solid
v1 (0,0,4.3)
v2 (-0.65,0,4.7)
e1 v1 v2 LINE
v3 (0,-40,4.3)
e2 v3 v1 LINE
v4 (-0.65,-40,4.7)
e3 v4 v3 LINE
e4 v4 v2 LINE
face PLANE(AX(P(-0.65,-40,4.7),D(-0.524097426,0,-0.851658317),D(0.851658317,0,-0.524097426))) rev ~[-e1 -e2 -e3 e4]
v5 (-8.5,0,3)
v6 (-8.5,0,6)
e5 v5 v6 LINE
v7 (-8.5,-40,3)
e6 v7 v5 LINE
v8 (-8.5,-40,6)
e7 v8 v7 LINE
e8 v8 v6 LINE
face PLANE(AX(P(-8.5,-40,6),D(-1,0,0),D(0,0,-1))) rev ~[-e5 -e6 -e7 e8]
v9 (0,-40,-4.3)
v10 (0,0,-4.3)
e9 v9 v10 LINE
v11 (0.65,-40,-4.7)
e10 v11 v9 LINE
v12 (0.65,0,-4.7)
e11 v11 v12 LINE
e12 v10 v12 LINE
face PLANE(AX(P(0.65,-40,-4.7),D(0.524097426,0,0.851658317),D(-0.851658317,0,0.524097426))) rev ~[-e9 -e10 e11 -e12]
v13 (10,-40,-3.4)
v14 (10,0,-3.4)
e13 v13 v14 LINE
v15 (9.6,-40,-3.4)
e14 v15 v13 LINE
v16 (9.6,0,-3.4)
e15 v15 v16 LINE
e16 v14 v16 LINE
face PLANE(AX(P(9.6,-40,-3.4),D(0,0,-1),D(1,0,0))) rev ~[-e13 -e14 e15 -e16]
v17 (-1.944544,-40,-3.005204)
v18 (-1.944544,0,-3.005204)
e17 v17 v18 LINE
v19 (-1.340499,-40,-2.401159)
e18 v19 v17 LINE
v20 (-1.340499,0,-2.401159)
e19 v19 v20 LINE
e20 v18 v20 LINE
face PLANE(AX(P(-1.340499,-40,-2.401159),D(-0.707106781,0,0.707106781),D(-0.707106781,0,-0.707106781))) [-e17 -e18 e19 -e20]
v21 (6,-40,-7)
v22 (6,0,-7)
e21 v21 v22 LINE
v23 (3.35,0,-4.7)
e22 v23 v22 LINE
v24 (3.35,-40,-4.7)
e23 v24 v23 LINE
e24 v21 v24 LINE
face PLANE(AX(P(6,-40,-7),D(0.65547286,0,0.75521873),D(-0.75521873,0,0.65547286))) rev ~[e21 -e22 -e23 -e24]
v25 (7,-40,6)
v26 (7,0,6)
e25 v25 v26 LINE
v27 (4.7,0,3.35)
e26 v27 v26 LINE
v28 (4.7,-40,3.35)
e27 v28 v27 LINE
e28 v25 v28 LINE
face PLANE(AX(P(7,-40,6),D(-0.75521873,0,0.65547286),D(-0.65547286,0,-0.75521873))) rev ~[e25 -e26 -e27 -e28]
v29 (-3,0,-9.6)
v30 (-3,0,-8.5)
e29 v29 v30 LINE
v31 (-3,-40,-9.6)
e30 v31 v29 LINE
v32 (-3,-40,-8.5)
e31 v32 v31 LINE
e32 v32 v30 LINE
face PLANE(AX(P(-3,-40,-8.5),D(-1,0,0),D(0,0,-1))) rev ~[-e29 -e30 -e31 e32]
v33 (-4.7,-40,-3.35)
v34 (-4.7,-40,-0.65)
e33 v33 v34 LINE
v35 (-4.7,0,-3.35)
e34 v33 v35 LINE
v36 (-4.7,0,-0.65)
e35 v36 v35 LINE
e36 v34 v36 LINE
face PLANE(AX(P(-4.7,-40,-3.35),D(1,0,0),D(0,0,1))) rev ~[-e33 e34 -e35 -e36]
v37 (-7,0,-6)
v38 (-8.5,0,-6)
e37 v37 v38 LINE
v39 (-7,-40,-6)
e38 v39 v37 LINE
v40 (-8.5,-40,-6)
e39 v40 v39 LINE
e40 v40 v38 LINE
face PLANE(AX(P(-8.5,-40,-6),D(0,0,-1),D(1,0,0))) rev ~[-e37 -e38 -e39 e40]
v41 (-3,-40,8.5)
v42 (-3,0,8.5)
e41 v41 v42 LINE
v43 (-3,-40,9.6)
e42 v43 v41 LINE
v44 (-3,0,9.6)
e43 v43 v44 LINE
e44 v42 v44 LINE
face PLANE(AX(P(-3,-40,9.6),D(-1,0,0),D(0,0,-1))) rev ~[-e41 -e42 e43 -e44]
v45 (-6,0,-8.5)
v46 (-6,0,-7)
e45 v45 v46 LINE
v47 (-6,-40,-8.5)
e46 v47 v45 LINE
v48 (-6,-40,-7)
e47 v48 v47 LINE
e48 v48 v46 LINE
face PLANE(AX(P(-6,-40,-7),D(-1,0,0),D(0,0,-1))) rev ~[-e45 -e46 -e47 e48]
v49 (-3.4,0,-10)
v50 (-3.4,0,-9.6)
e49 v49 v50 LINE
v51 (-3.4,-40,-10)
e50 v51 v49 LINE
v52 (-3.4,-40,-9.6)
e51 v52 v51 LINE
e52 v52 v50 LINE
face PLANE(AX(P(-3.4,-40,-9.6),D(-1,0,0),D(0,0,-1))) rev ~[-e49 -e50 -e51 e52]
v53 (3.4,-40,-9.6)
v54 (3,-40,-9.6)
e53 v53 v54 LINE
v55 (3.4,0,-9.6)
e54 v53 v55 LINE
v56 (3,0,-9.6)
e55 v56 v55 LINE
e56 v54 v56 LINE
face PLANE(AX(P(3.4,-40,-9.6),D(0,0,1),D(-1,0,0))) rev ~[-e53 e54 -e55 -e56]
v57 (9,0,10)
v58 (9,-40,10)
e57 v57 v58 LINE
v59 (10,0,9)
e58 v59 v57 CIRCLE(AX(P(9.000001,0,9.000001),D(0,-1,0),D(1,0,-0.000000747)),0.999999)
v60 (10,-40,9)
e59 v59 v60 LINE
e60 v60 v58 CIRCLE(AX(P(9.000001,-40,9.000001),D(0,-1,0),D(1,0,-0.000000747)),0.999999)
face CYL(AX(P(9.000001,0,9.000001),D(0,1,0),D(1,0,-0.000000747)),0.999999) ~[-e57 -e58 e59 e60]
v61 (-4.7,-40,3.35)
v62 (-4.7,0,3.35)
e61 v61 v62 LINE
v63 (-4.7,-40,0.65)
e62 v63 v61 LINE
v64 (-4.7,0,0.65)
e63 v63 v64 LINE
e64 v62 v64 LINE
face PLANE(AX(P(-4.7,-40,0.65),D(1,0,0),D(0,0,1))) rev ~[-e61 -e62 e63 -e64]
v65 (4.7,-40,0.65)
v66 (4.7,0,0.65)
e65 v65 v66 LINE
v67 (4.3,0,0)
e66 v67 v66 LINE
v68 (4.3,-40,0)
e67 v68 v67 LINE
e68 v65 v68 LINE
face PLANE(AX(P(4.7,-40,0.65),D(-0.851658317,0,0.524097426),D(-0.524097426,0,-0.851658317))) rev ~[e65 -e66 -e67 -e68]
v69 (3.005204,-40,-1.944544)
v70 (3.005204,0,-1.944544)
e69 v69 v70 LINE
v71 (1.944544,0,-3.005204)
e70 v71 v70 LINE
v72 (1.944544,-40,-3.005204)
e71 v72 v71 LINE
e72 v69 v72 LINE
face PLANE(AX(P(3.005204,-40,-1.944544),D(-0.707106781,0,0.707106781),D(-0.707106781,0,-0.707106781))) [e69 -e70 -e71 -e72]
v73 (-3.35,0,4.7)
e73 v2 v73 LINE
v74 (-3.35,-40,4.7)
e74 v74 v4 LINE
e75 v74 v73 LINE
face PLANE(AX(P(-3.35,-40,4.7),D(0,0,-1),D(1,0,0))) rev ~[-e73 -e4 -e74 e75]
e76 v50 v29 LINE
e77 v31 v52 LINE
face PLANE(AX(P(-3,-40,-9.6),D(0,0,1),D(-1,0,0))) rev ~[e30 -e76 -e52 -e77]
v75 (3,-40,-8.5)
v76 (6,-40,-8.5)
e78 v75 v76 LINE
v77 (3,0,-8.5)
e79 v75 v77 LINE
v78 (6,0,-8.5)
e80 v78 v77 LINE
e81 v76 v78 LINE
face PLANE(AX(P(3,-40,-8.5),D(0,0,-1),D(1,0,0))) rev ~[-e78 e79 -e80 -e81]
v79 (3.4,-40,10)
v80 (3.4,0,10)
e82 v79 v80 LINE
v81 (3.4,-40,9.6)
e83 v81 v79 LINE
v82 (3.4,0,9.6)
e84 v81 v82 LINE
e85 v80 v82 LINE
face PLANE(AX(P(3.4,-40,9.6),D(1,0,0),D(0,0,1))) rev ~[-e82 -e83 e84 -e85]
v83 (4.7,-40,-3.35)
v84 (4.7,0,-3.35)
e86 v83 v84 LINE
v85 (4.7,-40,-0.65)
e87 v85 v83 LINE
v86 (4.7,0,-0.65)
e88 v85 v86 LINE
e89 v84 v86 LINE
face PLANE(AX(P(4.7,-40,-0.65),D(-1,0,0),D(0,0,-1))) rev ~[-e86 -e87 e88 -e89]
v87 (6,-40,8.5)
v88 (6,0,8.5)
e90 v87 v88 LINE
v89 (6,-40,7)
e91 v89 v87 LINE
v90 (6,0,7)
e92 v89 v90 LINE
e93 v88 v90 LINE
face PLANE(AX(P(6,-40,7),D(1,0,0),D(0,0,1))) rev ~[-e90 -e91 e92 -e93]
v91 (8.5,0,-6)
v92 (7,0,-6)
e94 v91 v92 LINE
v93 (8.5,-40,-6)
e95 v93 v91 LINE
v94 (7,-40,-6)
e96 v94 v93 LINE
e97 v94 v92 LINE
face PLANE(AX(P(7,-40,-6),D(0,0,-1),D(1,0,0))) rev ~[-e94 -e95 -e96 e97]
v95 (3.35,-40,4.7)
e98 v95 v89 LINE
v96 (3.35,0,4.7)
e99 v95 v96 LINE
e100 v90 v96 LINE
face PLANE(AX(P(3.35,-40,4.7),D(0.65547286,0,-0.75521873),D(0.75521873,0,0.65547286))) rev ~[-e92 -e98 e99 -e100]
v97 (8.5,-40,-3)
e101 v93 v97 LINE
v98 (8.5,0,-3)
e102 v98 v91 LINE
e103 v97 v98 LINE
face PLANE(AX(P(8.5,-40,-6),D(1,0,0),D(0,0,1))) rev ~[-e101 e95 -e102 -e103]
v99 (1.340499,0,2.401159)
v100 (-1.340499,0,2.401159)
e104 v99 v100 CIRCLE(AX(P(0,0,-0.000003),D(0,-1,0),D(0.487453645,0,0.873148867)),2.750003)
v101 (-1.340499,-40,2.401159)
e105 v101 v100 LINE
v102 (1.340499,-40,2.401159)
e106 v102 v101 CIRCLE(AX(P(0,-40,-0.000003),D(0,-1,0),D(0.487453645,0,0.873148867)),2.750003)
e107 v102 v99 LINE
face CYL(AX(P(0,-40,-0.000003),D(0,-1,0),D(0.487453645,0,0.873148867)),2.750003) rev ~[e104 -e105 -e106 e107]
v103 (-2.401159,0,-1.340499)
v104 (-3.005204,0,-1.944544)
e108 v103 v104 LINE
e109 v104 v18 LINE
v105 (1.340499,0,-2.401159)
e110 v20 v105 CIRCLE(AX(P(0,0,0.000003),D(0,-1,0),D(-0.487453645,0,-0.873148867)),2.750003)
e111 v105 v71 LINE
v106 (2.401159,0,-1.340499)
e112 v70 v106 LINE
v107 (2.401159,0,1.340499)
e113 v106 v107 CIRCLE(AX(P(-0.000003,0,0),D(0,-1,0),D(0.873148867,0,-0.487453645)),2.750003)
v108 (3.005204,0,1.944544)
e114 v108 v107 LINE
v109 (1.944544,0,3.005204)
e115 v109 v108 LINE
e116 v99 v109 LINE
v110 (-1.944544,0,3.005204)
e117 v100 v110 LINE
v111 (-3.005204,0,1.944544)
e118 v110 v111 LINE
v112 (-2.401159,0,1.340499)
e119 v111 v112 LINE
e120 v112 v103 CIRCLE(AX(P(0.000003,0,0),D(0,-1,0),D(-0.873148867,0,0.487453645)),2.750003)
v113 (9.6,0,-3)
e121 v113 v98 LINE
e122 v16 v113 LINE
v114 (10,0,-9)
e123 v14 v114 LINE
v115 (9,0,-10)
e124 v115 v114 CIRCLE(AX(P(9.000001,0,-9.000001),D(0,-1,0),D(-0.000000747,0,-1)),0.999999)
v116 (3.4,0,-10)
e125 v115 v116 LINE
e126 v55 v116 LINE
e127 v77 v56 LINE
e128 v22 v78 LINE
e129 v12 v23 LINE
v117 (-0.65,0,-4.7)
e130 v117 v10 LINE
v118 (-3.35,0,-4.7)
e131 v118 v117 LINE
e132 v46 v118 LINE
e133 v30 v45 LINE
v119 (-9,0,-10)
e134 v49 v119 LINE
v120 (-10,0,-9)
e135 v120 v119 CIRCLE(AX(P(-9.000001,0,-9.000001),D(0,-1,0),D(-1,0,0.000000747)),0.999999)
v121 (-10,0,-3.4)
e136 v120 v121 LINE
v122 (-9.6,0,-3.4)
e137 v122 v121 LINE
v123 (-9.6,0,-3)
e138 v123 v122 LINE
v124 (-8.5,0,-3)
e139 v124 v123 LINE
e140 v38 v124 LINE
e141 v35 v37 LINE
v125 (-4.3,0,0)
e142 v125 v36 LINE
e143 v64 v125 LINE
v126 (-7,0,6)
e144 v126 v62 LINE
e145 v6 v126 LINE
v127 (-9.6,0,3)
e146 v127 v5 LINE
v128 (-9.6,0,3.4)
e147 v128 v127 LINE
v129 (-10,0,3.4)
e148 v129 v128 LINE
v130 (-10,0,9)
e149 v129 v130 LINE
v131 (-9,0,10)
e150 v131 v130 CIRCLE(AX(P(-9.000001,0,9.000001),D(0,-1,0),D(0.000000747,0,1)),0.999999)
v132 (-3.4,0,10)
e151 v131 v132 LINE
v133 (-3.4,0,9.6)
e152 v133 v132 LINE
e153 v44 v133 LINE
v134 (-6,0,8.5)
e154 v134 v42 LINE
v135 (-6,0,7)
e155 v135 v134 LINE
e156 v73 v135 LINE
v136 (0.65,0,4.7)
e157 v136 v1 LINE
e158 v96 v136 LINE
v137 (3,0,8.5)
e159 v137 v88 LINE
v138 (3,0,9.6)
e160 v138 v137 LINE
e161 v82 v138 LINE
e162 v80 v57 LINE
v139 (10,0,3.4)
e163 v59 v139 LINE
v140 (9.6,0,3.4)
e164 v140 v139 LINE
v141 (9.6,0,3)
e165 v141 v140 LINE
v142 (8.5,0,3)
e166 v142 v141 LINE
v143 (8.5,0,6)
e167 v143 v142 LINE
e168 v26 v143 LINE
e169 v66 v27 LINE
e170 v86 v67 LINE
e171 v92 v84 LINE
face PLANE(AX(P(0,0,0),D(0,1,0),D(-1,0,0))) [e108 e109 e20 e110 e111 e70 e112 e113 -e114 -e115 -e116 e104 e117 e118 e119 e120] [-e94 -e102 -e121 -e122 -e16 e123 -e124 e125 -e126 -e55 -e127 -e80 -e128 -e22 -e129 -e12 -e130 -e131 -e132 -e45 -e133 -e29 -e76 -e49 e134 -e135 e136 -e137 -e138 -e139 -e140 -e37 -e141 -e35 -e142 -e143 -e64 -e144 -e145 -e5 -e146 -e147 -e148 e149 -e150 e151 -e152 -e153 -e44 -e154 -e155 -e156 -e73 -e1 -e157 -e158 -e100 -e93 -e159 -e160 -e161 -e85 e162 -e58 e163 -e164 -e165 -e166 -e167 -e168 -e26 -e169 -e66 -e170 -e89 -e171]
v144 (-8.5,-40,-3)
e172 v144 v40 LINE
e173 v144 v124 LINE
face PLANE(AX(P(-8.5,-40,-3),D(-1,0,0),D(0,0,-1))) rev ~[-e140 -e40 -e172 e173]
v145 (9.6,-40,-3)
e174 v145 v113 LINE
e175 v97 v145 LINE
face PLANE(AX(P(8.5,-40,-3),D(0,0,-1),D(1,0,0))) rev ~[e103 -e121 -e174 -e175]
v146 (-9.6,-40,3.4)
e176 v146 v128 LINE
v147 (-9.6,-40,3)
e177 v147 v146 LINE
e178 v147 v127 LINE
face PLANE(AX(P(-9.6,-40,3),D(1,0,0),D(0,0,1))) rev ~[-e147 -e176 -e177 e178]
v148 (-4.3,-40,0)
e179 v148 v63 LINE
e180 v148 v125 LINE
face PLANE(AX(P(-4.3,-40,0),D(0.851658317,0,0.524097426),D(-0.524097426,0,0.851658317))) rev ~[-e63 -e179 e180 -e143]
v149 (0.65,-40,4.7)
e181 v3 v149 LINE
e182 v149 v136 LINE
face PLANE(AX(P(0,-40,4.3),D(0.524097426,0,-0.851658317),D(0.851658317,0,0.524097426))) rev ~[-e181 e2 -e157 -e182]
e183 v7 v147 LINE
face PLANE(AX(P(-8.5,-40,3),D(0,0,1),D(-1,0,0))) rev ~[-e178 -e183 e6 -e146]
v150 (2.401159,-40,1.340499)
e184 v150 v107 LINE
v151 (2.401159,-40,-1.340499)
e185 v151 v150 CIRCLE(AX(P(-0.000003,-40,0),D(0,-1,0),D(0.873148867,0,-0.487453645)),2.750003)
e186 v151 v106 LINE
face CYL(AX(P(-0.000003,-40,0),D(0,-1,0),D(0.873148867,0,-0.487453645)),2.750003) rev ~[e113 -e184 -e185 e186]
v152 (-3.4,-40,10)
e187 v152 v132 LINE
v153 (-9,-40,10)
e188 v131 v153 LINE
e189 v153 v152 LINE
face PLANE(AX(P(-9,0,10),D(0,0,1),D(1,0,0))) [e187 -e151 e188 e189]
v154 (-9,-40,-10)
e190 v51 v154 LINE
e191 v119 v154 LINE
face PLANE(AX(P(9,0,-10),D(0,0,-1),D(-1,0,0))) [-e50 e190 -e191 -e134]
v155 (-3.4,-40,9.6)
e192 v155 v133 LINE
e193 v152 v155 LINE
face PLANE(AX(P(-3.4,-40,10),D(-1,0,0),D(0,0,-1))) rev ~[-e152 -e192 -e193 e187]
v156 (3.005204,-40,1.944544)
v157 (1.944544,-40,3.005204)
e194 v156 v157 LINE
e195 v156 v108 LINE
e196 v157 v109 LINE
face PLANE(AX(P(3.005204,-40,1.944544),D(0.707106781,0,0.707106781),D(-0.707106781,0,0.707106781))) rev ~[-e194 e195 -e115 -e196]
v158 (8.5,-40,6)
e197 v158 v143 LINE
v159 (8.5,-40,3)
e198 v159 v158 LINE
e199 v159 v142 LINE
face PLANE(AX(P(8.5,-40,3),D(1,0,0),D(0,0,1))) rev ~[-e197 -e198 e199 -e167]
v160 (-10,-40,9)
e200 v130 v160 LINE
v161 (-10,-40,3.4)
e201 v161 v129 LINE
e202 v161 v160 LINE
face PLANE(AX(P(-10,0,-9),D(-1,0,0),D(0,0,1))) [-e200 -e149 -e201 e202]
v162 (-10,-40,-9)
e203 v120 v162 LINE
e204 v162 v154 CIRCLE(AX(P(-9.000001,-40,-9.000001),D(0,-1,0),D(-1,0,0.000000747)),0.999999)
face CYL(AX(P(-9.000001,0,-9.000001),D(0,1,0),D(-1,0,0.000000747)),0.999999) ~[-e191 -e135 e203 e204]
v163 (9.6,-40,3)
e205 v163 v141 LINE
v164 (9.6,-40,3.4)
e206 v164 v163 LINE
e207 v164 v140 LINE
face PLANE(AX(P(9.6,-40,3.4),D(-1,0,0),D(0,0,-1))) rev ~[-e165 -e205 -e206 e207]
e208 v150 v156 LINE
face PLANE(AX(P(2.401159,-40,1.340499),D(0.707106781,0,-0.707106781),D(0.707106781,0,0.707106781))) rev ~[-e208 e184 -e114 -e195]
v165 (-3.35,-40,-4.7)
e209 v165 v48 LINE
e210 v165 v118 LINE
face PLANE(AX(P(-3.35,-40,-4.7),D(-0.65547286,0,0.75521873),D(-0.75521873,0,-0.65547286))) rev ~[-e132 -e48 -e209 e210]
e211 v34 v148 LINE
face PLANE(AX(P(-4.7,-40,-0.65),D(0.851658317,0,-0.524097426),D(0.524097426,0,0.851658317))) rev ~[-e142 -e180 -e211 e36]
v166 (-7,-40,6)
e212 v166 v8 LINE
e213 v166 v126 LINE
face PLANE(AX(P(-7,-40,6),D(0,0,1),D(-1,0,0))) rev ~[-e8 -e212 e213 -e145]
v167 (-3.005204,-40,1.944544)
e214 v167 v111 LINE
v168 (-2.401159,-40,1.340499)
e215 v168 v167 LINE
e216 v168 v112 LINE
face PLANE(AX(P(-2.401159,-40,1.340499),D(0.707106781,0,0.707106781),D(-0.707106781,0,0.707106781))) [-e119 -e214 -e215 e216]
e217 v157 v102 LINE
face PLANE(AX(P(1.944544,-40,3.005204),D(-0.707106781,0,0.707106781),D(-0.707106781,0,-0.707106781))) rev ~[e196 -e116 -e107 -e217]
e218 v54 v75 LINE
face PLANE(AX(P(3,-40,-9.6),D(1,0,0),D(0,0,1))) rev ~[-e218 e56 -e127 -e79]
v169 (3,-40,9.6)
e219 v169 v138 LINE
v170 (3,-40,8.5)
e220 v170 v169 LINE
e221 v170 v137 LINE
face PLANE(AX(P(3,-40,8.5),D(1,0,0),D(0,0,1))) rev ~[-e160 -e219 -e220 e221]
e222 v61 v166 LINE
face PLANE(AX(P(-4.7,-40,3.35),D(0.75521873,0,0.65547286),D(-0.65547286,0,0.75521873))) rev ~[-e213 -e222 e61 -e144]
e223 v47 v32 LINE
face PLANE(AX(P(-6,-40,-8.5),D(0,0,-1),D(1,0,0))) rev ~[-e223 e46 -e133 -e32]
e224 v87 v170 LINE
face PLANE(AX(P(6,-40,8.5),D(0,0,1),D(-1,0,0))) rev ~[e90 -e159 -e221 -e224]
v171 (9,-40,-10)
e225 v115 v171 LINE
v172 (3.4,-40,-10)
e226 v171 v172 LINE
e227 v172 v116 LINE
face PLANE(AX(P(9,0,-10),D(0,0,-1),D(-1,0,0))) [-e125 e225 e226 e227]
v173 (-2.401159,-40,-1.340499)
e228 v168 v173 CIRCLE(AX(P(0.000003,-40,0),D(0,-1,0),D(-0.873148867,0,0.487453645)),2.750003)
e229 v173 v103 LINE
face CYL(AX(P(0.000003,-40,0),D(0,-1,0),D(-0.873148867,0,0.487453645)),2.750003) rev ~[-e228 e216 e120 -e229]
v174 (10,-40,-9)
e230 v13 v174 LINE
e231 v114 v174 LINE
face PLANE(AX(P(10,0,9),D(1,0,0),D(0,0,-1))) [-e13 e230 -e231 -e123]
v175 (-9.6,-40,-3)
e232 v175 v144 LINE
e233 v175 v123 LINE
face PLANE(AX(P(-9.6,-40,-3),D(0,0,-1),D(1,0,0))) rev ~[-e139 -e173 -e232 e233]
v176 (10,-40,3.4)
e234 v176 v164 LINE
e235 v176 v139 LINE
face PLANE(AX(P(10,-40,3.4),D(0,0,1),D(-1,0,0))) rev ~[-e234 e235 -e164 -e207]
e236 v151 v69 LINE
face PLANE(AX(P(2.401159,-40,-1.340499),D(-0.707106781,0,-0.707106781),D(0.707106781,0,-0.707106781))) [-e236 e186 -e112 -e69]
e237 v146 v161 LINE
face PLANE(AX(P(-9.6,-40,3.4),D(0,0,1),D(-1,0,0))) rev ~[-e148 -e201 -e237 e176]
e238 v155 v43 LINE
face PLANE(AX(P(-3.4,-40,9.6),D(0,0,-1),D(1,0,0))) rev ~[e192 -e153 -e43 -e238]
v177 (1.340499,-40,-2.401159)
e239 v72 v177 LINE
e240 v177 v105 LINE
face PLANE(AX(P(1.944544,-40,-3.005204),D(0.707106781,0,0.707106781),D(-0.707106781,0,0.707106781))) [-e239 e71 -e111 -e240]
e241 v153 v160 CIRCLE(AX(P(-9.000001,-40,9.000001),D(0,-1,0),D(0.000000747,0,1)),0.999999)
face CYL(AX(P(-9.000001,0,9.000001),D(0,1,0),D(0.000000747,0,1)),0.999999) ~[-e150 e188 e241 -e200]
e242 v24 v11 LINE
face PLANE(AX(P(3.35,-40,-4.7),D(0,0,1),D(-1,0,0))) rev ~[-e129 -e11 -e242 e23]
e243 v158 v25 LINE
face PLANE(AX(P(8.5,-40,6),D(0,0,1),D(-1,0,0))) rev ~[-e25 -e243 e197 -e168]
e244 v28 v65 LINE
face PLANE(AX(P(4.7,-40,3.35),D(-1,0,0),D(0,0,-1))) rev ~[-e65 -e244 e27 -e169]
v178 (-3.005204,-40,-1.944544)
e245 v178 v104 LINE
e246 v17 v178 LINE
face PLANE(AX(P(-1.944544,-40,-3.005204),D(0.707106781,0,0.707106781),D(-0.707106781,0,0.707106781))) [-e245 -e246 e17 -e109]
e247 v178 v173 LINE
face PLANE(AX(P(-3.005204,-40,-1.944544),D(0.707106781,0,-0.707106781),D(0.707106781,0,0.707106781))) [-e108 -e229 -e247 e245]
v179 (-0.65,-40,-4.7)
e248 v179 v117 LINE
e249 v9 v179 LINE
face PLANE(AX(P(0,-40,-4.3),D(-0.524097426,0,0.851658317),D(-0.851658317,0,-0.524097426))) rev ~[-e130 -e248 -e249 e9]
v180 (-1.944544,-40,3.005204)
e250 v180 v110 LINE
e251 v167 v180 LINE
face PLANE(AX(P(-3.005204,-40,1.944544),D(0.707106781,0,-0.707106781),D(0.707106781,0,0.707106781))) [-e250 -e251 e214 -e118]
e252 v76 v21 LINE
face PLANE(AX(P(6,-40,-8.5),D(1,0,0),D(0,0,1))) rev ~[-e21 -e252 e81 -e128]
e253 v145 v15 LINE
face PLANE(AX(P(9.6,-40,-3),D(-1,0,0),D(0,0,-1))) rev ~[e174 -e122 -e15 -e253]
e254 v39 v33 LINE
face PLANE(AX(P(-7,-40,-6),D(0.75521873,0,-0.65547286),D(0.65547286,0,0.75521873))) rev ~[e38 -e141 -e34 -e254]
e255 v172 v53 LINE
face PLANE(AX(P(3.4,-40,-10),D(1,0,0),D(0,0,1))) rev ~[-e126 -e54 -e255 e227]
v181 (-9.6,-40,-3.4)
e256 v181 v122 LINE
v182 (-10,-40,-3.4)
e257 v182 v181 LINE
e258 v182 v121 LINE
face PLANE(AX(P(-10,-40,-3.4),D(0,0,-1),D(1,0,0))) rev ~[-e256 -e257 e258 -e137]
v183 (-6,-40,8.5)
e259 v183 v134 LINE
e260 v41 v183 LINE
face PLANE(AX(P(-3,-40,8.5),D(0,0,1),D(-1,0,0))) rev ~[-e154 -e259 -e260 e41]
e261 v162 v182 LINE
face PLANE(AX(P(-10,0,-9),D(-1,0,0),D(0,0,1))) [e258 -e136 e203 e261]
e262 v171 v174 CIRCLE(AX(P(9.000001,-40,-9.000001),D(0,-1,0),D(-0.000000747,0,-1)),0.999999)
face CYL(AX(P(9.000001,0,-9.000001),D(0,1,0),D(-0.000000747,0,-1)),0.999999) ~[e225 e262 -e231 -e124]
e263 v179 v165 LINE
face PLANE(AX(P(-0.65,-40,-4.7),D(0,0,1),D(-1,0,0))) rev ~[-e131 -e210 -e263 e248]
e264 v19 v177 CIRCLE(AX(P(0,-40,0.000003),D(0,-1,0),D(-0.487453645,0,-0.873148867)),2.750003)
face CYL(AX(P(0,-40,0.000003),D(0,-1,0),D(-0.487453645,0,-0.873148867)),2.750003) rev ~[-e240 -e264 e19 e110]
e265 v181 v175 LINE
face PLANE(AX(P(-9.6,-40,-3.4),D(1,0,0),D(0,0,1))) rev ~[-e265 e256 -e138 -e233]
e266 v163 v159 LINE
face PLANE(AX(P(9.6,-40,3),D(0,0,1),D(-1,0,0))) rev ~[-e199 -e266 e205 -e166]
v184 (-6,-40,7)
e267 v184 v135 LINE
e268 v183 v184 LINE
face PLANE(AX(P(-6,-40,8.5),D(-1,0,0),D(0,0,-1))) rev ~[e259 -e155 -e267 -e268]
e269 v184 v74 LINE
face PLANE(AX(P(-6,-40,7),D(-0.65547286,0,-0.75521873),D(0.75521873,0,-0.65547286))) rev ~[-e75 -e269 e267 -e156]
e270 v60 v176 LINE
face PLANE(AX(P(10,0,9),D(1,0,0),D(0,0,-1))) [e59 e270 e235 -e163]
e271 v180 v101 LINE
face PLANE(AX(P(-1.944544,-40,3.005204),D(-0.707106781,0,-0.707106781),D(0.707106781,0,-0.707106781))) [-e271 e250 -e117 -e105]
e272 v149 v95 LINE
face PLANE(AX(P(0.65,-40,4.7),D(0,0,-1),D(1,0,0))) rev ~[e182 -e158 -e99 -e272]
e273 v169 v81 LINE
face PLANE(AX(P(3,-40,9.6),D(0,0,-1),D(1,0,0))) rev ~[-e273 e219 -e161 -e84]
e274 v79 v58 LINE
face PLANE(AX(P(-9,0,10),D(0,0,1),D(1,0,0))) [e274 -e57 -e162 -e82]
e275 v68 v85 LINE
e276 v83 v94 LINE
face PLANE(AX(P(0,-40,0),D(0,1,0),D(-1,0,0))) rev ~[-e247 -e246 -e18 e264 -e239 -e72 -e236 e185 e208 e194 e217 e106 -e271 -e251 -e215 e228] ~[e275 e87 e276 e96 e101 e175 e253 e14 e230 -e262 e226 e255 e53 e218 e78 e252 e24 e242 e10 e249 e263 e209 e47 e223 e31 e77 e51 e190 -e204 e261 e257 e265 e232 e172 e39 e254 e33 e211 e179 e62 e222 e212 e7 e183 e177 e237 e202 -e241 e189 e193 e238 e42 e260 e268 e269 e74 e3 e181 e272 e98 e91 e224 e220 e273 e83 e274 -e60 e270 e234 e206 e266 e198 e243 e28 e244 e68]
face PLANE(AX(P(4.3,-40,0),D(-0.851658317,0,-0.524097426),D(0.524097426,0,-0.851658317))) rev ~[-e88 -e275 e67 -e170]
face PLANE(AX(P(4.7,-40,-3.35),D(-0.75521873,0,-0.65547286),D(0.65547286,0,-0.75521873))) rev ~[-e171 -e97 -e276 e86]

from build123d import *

# Parameters (mm, degrees)
PAD_DEPTH          = 40
POCKET_DEPTH       = 380
POLARPATTERN_COUNT = 4
POCKET001_DEPTH    = 380


with BuildPart() as part:
    # Sketch → Pad (new body)
    with BuildSketch(Plane.XZ):
        with BuildLine():
            Line((-9, 10), (9, 10))
            ThreePointArc((10, 9), (9.707107, 9.707107), (9, 10))
            Line((10, 9), (10, -9))
            ThreePointArc((9, -10), (9.707107, -9.707107), (10, -9))
            Line((9, -10), (-9, -10))
            ThreePointArc((-10, -9), (-9.707107, -9.707107), (-9, -10))
            Line((-10, -9), (-10, 9))
            ThreePointArc((-9, 10), (-9.707107, 9.707107), (-10, 9))
        make_face()
    extrude(amount=PAD_DEPTH)

    # Sketch001 (on Face10 of Pad) → Pocket (cut)
    with BuildSketch(Plane.XZ.offset(40)):
        Polygon((-3.4, 10), (-3.4, 9.6), (-3, 9.6), (-3, 8.5), (-6, 8.5), (-6, 7), (-3.35, 4.7), (-0.65, 4.7), (0, 4.3), (0.65, 4.7), (3.35, 4.7), (6, 7), (6, 8.5), (3, 8.5), (3, 9.6), (3.4, 9.6), (3.4, 10), align=None)
    pocket = extrude(amount=-POCKET_DEPTH, mode=Mode.SUBTRACT)

    # PolarPattern: Pocket ×4 about axis
    polarpattern_axis = Axis((0, -40, 0), (0, -1, 0))
    for i in range(1, POLARPATTERN_COUNT):
        add(pocket.rotate(polarpattern_axis, i * 360 / POLARPATTERN_COUNT), mode=Mode.SUBTRACT)

    # Sketch002 (on Face4 of PolarPattern) → Pocket001 (cut)
    with BuildSketch(Plane.XZ.offset(40)):
        with BuildLine():
            ThreePointArc((1.340499, 2.401159), (0, 2.75), (-1.340499, 2.401159))
            Line((-1.944544, 3.005204), (-1.340499, 2.401159))
            Line((-3.005204, 1.944544), (-1.944544, 3.005204))
            Line((-2.401159, 1.340499), (-3.005204, 1.944544))
            ThreePointArc((-2.401159, 1.340499), (-2.75, 0), (-2.401159, -1.340499))
            Line((-3.005204, -1.944544), (-2.401159, -1.340499))
            Line((-1.944544, -3.005204), (-3.005204, -1.944544))
            Line((-1.340499, -2.401159), (-1.944544, -3.005204))
            ThreePointArc((-1.340499, -2.401159), (0, -2.75), (1.340499, -2.401159))
            Line((1.944544, -3.005204), (1.340499, -2.401159))
            Line((3.005204, -1.944544), (1.944544, -3.005204))
            Line((2.401159, -1.340499), (3.005204, -1.944544))
            ThreePointArc((2.401159, -1.340499), (2.75, 0), (2.401159, 1.340499))
            Line((2.401159, 1.340499), (3.005204, 1.944544))
            Line((3.005204, 1.944544), (1.944544, 3.005204))
            Line((1.944544, 3.005204), (1.340499, 2.401159))
        make_face()
    extrude(amount=-POCKET001_DEPTH, mode=Mode.SUBTRACT)


solid = part.part
